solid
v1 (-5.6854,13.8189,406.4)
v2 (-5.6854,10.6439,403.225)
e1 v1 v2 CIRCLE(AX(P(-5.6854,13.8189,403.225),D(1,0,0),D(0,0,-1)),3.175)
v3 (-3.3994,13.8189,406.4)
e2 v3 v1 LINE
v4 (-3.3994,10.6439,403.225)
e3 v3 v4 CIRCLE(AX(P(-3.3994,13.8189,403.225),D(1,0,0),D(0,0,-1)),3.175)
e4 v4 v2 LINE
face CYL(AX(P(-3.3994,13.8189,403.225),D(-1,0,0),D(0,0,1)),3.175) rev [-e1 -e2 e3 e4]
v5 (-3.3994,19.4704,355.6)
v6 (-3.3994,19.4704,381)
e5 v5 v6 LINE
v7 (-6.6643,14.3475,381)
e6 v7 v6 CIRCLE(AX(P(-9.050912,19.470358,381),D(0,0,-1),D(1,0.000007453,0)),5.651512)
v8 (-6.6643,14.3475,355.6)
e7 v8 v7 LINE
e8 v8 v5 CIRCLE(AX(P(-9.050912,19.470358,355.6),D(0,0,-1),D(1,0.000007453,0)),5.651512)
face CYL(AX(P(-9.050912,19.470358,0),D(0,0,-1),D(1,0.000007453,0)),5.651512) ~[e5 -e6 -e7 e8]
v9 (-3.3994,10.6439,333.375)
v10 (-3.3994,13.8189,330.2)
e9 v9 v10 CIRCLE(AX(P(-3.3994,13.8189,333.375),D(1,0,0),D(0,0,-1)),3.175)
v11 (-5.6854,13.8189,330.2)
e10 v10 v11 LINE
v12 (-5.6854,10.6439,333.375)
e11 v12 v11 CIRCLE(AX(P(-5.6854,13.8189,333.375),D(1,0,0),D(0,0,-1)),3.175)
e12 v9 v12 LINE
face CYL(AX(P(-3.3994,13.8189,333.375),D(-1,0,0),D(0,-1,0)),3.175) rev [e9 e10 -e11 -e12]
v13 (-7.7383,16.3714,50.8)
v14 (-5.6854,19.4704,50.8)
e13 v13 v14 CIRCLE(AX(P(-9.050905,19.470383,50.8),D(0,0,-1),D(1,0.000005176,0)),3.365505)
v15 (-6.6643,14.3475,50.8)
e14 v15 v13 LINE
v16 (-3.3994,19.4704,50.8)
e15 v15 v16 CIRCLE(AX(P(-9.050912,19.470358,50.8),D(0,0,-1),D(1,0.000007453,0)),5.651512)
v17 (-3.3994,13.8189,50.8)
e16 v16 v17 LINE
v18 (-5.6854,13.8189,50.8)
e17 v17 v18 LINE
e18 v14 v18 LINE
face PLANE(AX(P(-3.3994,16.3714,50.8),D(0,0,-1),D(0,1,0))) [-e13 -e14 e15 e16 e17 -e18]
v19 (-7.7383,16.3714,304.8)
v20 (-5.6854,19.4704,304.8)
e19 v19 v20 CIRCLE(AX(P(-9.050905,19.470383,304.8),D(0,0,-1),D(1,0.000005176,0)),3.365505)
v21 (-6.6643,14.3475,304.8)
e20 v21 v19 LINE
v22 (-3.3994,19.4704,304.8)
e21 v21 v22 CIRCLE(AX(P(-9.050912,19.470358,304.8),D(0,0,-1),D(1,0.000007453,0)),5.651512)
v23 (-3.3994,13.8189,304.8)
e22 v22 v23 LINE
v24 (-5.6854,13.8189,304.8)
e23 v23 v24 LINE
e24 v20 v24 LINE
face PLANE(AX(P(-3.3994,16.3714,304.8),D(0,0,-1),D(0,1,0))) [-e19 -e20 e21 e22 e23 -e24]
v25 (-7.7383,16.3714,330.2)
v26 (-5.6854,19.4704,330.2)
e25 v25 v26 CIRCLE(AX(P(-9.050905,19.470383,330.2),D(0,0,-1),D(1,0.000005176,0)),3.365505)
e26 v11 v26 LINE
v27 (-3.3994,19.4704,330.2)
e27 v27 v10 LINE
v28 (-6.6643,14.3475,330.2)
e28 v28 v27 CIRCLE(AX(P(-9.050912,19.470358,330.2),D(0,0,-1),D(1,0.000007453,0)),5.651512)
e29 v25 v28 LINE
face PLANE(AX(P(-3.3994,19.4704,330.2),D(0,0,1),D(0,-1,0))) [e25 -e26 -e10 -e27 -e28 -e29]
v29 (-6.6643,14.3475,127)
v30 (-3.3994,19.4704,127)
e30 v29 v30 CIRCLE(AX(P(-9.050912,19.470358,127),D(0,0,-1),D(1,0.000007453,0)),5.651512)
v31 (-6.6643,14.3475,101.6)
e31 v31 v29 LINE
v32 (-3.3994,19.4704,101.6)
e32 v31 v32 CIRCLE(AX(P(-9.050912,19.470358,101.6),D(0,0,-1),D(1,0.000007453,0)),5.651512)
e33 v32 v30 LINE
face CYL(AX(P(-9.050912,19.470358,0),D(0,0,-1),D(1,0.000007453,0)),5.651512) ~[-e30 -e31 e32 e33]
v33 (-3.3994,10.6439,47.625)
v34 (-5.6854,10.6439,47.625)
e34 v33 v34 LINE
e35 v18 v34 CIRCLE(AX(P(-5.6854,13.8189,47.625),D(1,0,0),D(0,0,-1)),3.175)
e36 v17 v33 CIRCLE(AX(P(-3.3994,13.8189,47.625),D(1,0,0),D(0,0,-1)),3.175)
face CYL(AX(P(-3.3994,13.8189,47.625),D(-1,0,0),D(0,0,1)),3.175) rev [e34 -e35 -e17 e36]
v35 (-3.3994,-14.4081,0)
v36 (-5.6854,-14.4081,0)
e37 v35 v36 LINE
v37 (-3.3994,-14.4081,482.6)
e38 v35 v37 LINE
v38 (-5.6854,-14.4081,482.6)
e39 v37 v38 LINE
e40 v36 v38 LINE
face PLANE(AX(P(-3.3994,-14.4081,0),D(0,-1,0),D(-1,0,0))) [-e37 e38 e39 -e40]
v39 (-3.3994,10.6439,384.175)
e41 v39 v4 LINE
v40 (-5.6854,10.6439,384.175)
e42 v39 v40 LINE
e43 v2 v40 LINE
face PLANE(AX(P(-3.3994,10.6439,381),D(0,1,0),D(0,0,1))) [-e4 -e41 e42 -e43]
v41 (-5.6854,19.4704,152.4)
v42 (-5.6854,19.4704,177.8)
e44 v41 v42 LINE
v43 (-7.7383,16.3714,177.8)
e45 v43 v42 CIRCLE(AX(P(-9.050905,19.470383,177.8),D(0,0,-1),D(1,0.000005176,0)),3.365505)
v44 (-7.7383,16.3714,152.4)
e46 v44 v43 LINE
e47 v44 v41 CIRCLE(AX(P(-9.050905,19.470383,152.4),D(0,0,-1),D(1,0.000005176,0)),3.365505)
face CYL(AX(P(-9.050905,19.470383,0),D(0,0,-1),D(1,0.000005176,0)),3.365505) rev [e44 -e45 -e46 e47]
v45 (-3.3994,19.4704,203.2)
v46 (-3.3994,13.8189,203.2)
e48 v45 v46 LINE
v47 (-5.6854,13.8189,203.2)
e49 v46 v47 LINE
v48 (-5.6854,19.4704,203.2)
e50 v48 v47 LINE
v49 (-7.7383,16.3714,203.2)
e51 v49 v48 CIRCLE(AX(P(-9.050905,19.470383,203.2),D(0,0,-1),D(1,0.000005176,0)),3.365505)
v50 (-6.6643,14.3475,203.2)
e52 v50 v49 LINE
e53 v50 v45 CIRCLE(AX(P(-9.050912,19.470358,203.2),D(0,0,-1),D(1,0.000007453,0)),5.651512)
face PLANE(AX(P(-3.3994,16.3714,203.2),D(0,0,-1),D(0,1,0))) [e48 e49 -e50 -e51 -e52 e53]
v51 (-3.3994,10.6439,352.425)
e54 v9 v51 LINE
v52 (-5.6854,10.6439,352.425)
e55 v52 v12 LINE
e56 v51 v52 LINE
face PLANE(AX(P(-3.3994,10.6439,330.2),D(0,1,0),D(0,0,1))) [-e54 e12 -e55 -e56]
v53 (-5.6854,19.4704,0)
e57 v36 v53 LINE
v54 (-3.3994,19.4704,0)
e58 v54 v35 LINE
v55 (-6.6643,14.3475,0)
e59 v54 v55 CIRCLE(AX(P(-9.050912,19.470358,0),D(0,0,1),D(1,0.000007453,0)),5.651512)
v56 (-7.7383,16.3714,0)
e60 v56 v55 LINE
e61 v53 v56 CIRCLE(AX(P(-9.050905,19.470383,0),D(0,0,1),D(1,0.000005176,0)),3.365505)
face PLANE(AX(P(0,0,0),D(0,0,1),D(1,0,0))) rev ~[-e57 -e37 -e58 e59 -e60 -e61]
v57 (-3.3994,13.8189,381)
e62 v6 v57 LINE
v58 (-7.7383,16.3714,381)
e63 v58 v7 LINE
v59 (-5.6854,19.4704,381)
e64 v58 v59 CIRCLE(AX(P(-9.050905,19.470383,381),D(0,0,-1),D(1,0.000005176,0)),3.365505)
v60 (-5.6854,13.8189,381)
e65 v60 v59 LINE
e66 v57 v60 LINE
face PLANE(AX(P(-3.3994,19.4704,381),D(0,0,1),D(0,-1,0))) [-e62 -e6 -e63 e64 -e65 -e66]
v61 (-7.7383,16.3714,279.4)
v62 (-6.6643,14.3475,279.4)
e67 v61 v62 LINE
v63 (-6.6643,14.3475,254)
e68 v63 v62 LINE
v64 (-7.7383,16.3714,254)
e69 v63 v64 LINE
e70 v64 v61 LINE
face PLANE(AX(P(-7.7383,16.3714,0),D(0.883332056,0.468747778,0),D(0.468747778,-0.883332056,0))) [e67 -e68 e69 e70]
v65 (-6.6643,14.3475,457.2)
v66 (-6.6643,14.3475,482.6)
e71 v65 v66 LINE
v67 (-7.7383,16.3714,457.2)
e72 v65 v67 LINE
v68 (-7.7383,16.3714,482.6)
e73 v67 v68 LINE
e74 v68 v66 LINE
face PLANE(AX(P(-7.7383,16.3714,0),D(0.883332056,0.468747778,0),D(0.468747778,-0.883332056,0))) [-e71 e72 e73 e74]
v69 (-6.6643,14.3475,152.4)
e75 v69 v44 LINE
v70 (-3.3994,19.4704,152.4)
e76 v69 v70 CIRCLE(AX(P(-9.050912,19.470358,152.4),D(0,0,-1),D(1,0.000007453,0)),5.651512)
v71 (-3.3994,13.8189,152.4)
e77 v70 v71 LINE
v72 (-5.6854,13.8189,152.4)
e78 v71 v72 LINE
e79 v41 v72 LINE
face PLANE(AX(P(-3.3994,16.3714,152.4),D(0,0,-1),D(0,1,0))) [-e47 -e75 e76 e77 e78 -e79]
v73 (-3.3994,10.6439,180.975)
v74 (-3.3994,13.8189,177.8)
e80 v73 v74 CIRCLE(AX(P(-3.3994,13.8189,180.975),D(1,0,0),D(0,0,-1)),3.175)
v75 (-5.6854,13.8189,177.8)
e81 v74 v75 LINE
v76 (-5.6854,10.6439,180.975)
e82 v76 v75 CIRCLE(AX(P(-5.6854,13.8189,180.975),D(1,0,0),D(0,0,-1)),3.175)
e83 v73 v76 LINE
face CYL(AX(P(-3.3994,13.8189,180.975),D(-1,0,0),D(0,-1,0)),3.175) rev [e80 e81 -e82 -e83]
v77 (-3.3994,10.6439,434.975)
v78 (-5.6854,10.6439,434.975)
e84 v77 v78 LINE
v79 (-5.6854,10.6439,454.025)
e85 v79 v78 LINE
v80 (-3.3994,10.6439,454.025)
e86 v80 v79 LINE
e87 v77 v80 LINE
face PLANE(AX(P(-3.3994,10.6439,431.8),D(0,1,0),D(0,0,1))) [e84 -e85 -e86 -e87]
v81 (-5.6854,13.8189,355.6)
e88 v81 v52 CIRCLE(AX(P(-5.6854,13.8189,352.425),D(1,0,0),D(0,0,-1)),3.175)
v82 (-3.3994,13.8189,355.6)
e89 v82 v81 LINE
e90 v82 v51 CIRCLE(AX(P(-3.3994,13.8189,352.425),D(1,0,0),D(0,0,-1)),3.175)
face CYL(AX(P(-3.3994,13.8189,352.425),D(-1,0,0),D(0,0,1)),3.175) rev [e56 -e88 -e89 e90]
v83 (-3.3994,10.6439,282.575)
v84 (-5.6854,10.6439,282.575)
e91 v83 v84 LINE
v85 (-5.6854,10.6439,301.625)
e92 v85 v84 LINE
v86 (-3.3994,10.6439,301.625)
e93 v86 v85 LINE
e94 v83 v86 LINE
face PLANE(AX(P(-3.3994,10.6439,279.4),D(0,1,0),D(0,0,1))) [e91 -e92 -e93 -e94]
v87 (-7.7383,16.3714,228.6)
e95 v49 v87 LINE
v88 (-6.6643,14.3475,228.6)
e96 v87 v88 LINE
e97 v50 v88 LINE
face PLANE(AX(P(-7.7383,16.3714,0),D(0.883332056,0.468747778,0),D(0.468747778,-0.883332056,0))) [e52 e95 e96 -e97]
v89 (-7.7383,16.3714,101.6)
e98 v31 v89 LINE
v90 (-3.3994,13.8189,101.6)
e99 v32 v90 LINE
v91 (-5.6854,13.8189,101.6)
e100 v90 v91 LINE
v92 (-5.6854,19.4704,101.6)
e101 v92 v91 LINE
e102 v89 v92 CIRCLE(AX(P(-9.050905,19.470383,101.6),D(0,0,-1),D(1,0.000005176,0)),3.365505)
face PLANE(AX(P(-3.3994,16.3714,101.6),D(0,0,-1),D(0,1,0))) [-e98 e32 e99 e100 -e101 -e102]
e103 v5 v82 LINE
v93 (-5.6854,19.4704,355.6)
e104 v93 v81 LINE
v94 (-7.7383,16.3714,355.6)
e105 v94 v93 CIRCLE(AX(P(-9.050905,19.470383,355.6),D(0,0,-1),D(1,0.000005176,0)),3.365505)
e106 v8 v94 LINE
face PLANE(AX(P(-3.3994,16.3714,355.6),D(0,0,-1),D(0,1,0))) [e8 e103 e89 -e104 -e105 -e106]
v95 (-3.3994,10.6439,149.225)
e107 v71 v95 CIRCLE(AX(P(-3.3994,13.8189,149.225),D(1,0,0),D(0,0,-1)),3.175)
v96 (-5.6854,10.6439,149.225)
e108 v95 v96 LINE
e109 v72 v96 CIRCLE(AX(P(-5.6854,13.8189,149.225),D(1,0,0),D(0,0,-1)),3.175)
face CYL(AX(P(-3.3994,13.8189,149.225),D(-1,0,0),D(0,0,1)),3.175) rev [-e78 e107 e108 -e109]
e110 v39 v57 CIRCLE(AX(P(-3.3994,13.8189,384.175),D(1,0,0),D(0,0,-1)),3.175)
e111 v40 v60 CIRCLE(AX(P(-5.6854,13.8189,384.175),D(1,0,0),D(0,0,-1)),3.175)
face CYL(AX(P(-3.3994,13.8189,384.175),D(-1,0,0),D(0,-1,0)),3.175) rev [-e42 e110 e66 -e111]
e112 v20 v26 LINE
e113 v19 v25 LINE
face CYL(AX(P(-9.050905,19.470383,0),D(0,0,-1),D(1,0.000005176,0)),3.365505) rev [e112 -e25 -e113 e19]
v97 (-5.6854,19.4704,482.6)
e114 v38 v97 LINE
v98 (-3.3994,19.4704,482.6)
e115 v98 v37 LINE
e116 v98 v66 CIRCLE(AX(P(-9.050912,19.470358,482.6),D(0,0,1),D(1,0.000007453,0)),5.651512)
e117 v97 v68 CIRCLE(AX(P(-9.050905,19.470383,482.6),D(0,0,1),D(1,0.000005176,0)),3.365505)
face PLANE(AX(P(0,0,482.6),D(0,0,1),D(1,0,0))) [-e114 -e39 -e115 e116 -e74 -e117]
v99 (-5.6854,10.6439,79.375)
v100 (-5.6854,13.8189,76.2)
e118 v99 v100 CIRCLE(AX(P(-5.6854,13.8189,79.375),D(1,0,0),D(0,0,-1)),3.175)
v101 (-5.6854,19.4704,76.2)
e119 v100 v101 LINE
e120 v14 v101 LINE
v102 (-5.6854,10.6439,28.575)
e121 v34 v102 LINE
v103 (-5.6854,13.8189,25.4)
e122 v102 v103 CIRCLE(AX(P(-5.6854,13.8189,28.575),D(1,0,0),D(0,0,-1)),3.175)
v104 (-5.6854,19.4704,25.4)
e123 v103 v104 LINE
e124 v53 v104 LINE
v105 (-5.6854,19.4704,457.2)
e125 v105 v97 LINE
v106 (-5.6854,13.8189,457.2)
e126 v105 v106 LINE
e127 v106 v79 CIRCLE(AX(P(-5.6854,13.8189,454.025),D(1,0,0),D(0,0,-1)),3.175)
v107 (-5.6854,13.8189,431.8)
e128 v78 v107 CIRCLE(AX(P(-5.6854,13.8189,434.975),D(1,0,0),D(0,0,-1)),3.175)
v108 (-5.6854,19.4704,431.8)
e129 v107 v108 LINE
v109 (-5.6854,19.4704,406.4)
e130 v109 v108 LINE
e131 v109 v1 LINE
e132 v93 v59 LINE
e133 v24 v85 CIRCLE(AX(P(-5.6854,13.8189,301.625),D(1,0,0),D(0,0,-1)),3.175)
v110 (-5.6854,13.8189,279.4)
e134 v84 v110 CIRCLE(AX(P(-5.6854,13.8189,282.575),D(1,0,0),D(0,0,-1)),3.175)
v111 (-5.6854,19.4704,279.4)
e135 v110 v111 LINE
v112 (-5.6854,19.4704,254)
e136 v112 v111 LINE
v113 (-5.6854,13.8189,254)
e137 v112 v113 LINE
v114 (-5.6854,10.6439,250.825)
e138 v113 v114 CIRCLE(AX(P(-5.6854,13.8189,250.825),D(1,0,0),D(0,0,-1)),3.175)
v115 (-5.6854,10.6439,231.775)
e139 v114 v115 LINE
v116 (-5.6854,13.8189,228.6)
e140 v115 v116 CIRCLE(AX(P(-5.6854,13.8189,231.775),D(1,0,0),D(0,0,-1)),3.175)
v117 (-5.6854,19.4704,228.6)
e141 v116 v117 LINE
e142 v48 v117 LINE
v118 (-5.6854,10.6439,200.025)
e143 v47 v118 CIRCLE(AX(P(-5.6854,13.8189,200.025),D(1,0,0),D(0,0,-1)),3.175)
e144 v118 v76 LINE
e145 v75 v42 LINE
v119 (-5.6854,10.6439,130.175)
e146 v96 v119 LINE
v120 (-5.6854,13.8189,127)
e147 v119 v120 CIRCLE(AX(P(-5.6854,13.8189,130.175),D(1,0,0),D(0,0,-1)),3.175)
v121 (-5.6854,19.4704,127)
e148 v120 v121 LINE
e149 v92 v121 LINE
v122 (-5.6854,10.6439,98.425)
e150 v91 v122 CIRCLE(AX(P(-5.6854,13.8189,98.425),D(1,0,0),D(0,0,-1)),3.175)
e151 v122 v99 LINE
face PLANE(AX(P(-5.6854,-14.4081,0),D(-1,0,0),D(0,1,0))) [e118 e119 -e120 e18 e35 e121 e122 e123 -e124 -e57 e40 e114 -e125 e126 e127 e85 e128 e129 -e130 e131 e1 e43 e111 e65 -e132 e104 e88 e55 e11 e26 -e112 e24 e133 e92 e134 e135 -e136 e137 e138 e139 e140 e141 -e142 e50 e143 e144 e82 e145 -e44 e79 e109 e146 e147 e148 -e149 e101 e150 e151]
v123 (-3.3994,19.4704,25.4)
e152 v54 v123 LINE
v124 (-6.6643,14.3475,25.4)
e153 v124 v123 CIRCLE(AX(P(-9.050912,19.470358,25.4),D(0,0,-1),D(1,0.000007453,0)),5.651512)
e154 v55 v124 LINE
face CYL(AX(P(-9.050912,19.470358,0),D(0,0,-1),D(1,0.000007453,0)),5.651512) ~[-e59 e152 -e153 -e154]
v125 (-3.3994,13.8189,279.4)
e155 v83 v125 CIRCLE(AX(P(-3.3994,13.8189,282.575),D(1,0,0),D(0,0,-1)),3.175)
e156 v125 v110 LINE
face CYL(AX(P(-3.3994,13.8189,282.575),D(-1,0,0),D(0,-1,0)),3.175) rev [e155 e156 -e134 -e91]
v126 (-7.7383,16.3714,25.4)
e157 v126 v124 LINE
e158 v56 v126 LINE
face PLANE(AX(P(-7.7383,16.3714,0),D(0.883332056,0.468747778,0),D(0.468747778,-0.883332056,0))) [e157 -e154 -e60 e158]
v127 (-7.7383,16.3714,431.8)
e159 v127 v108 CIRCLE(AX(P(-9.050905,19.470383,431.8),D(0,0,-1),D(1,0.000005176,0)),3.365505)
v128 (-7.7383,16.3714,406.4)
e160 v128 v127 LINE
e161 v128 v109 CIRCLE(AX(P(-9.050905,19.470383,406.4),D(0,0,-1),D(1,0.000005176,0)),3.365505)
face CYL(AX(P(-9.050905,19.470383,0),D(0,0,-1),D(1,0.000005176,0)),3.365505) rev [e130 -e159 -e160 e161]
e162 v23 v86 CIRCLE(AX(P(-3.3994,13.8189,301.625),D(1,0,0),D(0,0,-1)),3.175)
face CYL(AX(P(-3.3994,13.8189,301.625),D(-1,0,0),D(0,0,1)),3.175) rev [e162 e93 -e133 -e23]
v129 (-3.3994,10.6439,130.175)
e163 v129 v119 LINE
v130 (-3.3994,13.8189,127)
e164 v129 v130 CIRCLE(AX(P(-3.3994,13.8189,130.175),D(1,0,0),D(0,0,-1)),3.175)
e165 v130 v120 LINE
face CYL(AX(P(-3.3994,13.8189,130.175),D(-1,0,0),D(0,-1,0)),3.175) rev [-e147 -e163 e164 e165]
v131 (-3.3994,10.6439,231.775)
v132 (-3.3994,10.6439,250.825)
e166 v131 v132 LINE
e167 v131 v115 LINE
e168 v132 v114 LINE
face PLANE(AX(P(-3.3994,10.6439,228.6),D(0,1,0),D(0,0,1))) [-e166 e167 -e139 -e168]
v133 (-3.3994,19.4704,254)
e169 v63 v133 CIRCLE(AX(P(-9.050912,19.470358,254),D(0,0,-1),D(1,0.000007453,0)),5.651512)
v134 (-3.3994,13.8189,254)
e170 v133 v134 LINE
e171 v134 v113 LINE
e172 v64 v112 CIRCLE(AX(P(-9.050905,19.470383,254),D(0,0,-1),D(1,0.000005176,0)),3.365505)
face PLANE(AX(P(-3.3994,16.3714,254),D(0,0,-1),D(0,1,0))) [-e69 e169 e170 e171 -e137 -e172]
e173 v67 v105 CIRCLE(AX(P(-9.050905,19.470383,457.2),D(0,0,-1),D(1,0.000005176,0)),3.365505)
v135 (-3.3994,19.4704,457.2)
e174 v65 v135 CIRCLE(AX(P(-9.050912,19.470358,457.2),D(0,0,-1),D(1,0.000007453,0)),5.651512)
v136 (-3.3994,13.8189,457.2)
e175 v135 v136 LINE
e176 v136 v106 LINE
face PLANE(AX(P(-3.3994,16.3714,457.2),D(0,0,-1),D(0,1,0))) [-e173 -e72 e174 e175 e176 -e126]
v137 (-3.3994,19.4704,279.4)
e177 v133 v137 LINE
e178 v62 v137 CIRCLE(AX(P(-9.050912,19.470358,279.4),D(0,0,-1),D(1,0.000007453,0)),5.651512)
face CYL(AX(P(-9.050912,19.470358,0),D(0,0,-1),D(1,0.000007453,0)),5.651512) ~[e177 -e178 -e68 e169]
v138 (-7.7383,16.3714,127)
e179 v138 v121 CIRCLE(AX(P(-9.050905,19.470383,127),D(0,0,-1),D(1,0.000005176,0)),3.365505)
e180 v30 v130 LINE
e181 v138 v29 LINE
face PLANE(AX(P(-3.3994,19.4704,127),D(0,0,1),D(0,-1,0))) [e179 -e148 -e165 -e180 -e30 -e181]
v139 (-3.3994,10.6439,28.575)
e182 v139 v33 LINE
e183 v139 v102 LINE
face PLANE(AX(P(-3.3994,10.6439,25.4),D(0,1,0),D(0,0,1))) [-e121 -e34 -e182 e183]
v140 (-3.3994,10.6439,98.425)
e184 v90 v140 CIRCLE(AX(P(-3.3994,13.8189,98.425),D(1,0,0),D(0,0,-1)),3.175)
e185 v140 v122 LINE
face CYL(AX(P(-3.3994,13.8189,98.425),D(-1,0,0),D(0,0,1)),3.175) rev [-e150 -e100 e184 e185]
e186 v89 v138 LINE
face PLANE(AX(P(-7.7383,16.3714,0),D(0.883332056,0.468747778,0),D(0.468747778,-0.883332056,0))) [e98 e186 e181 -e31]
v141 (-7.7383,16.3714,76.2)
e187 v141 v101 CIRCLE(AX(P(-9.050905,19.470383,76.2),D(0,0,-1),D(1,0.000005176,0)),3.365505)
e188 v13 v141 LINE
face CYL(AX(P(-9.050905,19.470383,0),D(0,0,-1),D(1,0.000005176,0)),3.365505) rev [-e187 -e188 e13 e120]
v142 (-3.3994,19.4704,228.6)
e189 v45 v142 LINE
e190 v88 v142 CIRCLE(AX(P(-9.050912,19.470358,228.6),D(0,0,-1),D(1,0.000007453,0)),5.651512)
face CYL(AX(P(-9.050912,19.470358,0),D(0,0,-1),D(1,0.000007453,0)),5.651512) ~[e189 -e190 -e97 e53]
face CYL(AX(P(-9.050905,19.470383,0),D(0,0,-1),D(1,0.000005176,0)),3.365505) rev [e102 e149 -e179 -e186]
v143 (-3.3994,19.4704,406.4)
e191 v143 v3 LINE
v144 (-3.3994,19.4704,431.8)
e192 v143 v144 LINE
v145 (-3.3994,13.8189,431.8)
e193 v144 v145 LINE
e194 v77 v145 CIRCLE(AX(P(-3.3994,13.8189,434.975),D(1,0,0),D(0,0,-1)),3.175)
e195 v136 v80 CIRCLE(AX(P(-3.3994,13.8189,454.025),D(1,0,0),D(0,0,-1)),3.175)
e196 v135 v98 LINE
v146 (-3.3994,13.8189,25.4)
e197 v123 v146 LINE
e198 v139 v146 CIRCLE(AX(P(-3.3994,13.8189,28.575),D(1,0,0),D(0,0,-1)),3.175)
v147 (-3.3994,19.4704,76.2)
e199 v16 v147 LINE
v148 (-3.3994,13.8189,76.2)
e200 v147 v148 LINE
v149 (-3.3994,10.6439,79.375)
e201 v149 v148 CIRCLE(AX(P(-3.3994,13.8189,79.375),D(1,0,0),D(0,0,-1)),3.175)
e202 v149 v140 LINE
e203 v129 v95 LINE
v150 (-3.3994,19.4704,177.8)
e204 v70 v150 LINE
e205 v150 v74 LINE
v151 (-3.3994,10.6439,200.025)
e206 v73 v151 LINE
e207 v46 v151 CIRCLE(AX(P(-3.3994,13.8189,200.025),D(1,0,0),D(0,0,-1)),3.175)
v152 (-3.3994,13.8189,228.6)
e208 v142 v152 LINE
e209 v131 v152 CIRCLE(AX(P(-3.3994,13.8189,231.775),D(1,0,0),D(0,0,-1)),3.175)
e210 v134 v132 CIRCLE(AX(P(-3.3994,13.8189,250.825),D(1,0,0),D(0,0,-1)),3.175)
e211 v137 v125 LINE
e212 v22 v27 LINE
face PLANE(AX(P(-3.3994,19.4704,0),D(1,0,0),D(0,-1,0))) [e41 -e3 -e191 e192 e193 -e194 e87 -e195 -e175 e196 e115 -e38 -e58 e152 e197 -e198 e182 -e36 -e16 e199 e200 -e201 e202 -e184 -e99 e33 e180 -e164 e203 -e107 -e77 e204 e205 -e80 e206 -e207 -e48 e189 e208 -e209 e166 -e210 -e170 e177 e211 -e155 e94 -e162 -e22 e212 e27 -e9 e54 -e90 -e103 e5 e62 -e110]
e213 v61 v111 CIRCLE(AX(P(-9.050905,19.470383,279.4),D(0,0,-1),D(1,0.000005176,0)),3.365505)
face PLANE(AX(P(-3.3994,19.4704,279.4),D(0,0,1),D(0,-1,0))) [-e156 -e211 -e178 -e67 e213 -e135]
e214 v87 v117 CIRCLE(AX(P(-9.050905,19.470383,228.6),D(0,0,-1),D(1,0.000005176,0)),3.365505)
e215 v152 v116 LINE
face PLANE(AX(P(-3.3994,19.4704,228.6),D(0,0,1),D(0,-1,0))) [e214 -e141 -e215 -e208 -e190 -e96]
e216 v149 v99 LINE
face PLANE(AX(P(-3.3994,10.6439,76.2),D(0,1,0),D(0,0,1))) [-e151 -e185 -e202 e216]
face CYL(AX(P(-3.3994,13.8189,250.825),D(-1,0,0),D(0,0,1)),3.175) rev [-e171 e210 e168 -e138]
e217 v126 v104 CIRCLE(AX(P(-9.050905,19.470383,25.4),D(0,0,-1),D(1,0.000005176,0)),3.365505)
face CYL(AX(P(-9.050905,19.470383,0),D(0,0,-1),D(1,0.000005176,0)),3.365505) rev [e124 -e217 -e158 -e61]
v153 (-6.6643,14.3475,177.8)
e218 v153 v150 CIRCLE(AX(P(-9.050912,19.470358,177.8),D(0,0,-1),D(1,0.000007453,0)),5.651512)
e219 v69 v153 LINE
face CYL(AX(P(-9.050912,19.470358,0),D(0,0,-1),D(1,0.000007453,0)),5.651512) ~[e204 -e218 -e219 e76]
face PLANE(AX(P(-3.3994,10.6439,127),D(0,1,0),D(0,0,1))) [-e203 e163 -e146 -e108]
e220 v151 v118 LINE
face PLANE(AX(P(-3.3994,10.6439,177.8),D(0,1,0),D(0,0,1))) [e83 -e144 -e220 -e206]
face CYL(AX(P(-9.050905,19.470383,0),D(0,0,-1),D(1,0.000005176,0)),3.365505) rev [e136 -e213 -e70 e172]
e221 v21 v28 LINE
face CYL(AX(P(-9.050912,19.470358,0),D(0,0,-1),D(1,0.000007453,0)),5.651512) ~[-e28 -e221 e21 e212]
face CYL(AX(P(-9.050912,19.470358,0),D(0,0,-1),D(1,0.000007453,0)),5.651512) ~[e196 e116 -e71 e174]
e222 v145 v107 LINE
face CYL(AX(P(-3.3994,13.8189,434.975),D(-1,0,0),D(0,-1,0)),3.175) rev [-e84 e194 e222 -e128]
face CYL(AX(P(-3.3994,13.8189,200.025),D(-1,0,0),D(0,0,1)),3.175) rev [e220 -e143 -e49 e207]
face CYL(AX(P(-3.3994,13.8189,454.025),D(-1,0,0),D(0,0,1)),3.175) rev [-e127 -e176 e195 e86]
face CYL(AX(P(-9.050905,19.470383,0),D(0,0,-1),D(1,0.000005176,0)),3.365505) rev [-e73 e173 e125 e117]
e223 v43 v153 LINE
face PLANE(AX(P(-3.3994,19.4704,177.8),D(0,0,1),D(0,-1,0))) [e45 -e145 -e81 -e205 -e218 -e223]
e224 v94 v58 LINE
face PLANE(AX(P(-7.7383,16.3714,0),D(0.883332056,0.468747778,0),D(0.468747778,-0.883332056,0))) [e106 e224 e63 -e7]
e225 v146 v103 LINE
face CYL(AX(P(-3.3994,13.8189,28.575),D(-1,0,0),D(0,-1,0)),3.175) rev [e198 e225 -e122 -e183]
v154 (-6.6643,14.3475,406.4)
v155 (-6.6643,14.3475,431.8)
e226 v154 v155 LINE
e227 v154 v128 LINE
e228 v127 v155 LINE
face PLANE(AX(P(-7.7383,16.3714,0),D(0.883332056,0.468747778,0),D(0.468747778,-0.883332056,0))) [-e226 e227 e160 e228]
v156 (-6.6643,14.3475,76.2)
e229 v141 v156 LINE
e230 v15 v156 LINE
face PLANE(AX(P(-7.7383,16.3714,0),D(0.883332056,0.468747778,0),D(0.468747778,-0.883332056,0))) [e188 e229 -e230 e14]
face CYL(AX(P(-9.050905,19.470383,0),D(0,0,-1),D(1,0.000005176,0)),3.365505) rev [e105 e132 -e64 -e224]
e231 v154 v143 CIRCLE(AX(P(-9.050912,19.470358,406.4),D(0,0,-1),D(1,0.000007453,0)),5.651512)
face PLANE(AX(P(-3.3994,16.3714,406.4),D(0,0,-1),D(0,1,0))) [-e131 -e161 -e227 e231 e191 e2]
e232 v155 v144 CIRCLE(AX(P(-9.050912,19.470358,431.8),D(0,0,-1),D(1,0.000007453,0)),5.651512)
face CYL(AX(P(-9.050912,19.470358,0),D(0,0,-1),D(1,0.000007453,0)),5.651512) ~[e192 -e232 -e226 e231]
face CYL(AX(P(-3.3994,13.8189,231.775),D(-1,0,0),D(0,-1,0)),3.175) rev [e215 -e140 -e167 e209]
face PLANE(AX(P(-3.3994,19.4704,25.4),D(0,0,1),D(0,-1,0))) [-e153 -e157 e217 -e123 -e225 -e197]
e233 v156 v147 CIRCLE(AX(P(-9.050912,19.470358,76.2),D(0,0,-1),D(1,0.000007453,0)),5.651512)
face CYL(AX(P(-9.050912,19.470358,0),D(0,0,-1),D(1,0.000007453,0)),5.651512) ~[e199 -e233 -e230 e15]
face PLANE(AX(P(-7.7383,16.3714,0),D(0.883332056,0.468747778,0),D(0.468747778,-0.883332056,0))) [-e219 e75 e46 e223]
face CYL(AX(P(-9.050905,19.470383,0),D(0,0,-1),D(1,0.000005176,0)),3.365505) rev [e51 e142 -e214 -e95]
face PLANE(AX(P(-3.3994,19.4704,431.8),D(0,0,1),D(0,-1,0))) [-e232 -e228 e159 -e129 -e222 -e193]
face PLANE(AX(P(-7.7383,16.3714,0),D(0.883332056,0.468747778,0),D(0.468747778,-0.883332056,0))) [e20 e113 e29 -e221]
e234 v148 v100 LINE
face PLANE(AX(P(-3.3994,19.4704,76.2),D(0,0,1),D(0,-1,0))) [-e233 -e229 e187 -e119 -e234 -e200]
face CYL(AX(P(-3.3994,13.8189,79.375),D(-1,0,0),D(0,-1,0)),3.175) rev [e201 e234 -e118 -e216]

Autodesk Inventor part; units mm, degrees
ref_plane "YZ Plane" through (0, 0, 0) normal (1, 0, 0) x (0, 1, 0)
ref_plane "XZ Plane" through (0, 0, 0) normal (0, 1, 0) x (-1, 0, 0)
ref_plane "XY Plane" through (0, 0, 0) normal (0, 0, 1) x (1, 0, 0)
sketch "Sketch1" plane through (0, 0, 0) normal (0, 0, 1) x (1, 0, 0)
  line L0 (-3.3994, 19.4704) -> (-3.3994, -14.4081)
  line L1 (-3.3994, -14.4081) -> (-5.6854, -14.4081)
  arc A0 (-3.3994, 19.4704) -> (-6.6643, 14.3475) centre (-9.0509, 19.4704) ccw
  arc A1 (-5.6854, 19.4704) -> (-7.7383, 16.3714) centre (-9.0509, 19.4704) ccw
  line L2 (-7.7383, 16.3714) -> (-6.6643, 14.3475)
  line L3 (-5.6854, -14.4081) -> (-5.6854, 19.4704)
  dimension "d0" = 11.303
  dimension "d2" = 2.286
extrude "Extrusion1" add sketch "Sketch1" along normal blind 482.6
sketch "Sketch2" plane through (-3.3994, -14.4081, 0) normal (1, 0, 0) x (0, 0, -1)
  line L0 (-482.6, 33.8785) -> (-482.6, 0) projected
  line L1 (-457.2, 50.4757) -> (-431.8, 50.4757)
  line L2 (-431.8, 50.4757) -> (-431.8, 25.052)
  line L3 (-431.8, 25.052) -> (-457.2, 25.052)
  line L4 (-457.2, 25.052) -> (-457.2, 50.4757)
  line L5 (-482.6, 37.244) -> (0, 37.244) projected
  line L6 (-482.6, 33.8785) -> (-482.6, 30.7795) projected
  line L7 (0, 30.7795) -> (-482.6, 30.7795) projected
  line L8 (0, 30.7795) -> (0, 33.8785) projected
  line L9 (0, 33.8785) -> (-482.6, 33.8785) projected
  line L10 (0, 28.227) -> (-482.6, 28.227) projected
  dimension "d5" = 25.4
  dimension "d6" = 25.4
  dimension "d7" = 3.175
extrude "Extrusion2" cut sketch "Sketch2" against normal through all contours L9 L2 L7 L4 | L4 L5 L2 L9 | L7 L2 L10 L4 | L4 L1 L2 L5 | L10 L2 L3 L4
fillet "Fillet1" radius 3.175 2 edges at (-4.5424, 10.6439, 431.8) (-4.5424, 10.6439, 457.2)
pattern_linear "Rectangular Pattern1" count 9 spacing 50.8 along (0, 0, -1) of "Extrusion2", "Fillet1"
properties part number "FE-00004-03A"
